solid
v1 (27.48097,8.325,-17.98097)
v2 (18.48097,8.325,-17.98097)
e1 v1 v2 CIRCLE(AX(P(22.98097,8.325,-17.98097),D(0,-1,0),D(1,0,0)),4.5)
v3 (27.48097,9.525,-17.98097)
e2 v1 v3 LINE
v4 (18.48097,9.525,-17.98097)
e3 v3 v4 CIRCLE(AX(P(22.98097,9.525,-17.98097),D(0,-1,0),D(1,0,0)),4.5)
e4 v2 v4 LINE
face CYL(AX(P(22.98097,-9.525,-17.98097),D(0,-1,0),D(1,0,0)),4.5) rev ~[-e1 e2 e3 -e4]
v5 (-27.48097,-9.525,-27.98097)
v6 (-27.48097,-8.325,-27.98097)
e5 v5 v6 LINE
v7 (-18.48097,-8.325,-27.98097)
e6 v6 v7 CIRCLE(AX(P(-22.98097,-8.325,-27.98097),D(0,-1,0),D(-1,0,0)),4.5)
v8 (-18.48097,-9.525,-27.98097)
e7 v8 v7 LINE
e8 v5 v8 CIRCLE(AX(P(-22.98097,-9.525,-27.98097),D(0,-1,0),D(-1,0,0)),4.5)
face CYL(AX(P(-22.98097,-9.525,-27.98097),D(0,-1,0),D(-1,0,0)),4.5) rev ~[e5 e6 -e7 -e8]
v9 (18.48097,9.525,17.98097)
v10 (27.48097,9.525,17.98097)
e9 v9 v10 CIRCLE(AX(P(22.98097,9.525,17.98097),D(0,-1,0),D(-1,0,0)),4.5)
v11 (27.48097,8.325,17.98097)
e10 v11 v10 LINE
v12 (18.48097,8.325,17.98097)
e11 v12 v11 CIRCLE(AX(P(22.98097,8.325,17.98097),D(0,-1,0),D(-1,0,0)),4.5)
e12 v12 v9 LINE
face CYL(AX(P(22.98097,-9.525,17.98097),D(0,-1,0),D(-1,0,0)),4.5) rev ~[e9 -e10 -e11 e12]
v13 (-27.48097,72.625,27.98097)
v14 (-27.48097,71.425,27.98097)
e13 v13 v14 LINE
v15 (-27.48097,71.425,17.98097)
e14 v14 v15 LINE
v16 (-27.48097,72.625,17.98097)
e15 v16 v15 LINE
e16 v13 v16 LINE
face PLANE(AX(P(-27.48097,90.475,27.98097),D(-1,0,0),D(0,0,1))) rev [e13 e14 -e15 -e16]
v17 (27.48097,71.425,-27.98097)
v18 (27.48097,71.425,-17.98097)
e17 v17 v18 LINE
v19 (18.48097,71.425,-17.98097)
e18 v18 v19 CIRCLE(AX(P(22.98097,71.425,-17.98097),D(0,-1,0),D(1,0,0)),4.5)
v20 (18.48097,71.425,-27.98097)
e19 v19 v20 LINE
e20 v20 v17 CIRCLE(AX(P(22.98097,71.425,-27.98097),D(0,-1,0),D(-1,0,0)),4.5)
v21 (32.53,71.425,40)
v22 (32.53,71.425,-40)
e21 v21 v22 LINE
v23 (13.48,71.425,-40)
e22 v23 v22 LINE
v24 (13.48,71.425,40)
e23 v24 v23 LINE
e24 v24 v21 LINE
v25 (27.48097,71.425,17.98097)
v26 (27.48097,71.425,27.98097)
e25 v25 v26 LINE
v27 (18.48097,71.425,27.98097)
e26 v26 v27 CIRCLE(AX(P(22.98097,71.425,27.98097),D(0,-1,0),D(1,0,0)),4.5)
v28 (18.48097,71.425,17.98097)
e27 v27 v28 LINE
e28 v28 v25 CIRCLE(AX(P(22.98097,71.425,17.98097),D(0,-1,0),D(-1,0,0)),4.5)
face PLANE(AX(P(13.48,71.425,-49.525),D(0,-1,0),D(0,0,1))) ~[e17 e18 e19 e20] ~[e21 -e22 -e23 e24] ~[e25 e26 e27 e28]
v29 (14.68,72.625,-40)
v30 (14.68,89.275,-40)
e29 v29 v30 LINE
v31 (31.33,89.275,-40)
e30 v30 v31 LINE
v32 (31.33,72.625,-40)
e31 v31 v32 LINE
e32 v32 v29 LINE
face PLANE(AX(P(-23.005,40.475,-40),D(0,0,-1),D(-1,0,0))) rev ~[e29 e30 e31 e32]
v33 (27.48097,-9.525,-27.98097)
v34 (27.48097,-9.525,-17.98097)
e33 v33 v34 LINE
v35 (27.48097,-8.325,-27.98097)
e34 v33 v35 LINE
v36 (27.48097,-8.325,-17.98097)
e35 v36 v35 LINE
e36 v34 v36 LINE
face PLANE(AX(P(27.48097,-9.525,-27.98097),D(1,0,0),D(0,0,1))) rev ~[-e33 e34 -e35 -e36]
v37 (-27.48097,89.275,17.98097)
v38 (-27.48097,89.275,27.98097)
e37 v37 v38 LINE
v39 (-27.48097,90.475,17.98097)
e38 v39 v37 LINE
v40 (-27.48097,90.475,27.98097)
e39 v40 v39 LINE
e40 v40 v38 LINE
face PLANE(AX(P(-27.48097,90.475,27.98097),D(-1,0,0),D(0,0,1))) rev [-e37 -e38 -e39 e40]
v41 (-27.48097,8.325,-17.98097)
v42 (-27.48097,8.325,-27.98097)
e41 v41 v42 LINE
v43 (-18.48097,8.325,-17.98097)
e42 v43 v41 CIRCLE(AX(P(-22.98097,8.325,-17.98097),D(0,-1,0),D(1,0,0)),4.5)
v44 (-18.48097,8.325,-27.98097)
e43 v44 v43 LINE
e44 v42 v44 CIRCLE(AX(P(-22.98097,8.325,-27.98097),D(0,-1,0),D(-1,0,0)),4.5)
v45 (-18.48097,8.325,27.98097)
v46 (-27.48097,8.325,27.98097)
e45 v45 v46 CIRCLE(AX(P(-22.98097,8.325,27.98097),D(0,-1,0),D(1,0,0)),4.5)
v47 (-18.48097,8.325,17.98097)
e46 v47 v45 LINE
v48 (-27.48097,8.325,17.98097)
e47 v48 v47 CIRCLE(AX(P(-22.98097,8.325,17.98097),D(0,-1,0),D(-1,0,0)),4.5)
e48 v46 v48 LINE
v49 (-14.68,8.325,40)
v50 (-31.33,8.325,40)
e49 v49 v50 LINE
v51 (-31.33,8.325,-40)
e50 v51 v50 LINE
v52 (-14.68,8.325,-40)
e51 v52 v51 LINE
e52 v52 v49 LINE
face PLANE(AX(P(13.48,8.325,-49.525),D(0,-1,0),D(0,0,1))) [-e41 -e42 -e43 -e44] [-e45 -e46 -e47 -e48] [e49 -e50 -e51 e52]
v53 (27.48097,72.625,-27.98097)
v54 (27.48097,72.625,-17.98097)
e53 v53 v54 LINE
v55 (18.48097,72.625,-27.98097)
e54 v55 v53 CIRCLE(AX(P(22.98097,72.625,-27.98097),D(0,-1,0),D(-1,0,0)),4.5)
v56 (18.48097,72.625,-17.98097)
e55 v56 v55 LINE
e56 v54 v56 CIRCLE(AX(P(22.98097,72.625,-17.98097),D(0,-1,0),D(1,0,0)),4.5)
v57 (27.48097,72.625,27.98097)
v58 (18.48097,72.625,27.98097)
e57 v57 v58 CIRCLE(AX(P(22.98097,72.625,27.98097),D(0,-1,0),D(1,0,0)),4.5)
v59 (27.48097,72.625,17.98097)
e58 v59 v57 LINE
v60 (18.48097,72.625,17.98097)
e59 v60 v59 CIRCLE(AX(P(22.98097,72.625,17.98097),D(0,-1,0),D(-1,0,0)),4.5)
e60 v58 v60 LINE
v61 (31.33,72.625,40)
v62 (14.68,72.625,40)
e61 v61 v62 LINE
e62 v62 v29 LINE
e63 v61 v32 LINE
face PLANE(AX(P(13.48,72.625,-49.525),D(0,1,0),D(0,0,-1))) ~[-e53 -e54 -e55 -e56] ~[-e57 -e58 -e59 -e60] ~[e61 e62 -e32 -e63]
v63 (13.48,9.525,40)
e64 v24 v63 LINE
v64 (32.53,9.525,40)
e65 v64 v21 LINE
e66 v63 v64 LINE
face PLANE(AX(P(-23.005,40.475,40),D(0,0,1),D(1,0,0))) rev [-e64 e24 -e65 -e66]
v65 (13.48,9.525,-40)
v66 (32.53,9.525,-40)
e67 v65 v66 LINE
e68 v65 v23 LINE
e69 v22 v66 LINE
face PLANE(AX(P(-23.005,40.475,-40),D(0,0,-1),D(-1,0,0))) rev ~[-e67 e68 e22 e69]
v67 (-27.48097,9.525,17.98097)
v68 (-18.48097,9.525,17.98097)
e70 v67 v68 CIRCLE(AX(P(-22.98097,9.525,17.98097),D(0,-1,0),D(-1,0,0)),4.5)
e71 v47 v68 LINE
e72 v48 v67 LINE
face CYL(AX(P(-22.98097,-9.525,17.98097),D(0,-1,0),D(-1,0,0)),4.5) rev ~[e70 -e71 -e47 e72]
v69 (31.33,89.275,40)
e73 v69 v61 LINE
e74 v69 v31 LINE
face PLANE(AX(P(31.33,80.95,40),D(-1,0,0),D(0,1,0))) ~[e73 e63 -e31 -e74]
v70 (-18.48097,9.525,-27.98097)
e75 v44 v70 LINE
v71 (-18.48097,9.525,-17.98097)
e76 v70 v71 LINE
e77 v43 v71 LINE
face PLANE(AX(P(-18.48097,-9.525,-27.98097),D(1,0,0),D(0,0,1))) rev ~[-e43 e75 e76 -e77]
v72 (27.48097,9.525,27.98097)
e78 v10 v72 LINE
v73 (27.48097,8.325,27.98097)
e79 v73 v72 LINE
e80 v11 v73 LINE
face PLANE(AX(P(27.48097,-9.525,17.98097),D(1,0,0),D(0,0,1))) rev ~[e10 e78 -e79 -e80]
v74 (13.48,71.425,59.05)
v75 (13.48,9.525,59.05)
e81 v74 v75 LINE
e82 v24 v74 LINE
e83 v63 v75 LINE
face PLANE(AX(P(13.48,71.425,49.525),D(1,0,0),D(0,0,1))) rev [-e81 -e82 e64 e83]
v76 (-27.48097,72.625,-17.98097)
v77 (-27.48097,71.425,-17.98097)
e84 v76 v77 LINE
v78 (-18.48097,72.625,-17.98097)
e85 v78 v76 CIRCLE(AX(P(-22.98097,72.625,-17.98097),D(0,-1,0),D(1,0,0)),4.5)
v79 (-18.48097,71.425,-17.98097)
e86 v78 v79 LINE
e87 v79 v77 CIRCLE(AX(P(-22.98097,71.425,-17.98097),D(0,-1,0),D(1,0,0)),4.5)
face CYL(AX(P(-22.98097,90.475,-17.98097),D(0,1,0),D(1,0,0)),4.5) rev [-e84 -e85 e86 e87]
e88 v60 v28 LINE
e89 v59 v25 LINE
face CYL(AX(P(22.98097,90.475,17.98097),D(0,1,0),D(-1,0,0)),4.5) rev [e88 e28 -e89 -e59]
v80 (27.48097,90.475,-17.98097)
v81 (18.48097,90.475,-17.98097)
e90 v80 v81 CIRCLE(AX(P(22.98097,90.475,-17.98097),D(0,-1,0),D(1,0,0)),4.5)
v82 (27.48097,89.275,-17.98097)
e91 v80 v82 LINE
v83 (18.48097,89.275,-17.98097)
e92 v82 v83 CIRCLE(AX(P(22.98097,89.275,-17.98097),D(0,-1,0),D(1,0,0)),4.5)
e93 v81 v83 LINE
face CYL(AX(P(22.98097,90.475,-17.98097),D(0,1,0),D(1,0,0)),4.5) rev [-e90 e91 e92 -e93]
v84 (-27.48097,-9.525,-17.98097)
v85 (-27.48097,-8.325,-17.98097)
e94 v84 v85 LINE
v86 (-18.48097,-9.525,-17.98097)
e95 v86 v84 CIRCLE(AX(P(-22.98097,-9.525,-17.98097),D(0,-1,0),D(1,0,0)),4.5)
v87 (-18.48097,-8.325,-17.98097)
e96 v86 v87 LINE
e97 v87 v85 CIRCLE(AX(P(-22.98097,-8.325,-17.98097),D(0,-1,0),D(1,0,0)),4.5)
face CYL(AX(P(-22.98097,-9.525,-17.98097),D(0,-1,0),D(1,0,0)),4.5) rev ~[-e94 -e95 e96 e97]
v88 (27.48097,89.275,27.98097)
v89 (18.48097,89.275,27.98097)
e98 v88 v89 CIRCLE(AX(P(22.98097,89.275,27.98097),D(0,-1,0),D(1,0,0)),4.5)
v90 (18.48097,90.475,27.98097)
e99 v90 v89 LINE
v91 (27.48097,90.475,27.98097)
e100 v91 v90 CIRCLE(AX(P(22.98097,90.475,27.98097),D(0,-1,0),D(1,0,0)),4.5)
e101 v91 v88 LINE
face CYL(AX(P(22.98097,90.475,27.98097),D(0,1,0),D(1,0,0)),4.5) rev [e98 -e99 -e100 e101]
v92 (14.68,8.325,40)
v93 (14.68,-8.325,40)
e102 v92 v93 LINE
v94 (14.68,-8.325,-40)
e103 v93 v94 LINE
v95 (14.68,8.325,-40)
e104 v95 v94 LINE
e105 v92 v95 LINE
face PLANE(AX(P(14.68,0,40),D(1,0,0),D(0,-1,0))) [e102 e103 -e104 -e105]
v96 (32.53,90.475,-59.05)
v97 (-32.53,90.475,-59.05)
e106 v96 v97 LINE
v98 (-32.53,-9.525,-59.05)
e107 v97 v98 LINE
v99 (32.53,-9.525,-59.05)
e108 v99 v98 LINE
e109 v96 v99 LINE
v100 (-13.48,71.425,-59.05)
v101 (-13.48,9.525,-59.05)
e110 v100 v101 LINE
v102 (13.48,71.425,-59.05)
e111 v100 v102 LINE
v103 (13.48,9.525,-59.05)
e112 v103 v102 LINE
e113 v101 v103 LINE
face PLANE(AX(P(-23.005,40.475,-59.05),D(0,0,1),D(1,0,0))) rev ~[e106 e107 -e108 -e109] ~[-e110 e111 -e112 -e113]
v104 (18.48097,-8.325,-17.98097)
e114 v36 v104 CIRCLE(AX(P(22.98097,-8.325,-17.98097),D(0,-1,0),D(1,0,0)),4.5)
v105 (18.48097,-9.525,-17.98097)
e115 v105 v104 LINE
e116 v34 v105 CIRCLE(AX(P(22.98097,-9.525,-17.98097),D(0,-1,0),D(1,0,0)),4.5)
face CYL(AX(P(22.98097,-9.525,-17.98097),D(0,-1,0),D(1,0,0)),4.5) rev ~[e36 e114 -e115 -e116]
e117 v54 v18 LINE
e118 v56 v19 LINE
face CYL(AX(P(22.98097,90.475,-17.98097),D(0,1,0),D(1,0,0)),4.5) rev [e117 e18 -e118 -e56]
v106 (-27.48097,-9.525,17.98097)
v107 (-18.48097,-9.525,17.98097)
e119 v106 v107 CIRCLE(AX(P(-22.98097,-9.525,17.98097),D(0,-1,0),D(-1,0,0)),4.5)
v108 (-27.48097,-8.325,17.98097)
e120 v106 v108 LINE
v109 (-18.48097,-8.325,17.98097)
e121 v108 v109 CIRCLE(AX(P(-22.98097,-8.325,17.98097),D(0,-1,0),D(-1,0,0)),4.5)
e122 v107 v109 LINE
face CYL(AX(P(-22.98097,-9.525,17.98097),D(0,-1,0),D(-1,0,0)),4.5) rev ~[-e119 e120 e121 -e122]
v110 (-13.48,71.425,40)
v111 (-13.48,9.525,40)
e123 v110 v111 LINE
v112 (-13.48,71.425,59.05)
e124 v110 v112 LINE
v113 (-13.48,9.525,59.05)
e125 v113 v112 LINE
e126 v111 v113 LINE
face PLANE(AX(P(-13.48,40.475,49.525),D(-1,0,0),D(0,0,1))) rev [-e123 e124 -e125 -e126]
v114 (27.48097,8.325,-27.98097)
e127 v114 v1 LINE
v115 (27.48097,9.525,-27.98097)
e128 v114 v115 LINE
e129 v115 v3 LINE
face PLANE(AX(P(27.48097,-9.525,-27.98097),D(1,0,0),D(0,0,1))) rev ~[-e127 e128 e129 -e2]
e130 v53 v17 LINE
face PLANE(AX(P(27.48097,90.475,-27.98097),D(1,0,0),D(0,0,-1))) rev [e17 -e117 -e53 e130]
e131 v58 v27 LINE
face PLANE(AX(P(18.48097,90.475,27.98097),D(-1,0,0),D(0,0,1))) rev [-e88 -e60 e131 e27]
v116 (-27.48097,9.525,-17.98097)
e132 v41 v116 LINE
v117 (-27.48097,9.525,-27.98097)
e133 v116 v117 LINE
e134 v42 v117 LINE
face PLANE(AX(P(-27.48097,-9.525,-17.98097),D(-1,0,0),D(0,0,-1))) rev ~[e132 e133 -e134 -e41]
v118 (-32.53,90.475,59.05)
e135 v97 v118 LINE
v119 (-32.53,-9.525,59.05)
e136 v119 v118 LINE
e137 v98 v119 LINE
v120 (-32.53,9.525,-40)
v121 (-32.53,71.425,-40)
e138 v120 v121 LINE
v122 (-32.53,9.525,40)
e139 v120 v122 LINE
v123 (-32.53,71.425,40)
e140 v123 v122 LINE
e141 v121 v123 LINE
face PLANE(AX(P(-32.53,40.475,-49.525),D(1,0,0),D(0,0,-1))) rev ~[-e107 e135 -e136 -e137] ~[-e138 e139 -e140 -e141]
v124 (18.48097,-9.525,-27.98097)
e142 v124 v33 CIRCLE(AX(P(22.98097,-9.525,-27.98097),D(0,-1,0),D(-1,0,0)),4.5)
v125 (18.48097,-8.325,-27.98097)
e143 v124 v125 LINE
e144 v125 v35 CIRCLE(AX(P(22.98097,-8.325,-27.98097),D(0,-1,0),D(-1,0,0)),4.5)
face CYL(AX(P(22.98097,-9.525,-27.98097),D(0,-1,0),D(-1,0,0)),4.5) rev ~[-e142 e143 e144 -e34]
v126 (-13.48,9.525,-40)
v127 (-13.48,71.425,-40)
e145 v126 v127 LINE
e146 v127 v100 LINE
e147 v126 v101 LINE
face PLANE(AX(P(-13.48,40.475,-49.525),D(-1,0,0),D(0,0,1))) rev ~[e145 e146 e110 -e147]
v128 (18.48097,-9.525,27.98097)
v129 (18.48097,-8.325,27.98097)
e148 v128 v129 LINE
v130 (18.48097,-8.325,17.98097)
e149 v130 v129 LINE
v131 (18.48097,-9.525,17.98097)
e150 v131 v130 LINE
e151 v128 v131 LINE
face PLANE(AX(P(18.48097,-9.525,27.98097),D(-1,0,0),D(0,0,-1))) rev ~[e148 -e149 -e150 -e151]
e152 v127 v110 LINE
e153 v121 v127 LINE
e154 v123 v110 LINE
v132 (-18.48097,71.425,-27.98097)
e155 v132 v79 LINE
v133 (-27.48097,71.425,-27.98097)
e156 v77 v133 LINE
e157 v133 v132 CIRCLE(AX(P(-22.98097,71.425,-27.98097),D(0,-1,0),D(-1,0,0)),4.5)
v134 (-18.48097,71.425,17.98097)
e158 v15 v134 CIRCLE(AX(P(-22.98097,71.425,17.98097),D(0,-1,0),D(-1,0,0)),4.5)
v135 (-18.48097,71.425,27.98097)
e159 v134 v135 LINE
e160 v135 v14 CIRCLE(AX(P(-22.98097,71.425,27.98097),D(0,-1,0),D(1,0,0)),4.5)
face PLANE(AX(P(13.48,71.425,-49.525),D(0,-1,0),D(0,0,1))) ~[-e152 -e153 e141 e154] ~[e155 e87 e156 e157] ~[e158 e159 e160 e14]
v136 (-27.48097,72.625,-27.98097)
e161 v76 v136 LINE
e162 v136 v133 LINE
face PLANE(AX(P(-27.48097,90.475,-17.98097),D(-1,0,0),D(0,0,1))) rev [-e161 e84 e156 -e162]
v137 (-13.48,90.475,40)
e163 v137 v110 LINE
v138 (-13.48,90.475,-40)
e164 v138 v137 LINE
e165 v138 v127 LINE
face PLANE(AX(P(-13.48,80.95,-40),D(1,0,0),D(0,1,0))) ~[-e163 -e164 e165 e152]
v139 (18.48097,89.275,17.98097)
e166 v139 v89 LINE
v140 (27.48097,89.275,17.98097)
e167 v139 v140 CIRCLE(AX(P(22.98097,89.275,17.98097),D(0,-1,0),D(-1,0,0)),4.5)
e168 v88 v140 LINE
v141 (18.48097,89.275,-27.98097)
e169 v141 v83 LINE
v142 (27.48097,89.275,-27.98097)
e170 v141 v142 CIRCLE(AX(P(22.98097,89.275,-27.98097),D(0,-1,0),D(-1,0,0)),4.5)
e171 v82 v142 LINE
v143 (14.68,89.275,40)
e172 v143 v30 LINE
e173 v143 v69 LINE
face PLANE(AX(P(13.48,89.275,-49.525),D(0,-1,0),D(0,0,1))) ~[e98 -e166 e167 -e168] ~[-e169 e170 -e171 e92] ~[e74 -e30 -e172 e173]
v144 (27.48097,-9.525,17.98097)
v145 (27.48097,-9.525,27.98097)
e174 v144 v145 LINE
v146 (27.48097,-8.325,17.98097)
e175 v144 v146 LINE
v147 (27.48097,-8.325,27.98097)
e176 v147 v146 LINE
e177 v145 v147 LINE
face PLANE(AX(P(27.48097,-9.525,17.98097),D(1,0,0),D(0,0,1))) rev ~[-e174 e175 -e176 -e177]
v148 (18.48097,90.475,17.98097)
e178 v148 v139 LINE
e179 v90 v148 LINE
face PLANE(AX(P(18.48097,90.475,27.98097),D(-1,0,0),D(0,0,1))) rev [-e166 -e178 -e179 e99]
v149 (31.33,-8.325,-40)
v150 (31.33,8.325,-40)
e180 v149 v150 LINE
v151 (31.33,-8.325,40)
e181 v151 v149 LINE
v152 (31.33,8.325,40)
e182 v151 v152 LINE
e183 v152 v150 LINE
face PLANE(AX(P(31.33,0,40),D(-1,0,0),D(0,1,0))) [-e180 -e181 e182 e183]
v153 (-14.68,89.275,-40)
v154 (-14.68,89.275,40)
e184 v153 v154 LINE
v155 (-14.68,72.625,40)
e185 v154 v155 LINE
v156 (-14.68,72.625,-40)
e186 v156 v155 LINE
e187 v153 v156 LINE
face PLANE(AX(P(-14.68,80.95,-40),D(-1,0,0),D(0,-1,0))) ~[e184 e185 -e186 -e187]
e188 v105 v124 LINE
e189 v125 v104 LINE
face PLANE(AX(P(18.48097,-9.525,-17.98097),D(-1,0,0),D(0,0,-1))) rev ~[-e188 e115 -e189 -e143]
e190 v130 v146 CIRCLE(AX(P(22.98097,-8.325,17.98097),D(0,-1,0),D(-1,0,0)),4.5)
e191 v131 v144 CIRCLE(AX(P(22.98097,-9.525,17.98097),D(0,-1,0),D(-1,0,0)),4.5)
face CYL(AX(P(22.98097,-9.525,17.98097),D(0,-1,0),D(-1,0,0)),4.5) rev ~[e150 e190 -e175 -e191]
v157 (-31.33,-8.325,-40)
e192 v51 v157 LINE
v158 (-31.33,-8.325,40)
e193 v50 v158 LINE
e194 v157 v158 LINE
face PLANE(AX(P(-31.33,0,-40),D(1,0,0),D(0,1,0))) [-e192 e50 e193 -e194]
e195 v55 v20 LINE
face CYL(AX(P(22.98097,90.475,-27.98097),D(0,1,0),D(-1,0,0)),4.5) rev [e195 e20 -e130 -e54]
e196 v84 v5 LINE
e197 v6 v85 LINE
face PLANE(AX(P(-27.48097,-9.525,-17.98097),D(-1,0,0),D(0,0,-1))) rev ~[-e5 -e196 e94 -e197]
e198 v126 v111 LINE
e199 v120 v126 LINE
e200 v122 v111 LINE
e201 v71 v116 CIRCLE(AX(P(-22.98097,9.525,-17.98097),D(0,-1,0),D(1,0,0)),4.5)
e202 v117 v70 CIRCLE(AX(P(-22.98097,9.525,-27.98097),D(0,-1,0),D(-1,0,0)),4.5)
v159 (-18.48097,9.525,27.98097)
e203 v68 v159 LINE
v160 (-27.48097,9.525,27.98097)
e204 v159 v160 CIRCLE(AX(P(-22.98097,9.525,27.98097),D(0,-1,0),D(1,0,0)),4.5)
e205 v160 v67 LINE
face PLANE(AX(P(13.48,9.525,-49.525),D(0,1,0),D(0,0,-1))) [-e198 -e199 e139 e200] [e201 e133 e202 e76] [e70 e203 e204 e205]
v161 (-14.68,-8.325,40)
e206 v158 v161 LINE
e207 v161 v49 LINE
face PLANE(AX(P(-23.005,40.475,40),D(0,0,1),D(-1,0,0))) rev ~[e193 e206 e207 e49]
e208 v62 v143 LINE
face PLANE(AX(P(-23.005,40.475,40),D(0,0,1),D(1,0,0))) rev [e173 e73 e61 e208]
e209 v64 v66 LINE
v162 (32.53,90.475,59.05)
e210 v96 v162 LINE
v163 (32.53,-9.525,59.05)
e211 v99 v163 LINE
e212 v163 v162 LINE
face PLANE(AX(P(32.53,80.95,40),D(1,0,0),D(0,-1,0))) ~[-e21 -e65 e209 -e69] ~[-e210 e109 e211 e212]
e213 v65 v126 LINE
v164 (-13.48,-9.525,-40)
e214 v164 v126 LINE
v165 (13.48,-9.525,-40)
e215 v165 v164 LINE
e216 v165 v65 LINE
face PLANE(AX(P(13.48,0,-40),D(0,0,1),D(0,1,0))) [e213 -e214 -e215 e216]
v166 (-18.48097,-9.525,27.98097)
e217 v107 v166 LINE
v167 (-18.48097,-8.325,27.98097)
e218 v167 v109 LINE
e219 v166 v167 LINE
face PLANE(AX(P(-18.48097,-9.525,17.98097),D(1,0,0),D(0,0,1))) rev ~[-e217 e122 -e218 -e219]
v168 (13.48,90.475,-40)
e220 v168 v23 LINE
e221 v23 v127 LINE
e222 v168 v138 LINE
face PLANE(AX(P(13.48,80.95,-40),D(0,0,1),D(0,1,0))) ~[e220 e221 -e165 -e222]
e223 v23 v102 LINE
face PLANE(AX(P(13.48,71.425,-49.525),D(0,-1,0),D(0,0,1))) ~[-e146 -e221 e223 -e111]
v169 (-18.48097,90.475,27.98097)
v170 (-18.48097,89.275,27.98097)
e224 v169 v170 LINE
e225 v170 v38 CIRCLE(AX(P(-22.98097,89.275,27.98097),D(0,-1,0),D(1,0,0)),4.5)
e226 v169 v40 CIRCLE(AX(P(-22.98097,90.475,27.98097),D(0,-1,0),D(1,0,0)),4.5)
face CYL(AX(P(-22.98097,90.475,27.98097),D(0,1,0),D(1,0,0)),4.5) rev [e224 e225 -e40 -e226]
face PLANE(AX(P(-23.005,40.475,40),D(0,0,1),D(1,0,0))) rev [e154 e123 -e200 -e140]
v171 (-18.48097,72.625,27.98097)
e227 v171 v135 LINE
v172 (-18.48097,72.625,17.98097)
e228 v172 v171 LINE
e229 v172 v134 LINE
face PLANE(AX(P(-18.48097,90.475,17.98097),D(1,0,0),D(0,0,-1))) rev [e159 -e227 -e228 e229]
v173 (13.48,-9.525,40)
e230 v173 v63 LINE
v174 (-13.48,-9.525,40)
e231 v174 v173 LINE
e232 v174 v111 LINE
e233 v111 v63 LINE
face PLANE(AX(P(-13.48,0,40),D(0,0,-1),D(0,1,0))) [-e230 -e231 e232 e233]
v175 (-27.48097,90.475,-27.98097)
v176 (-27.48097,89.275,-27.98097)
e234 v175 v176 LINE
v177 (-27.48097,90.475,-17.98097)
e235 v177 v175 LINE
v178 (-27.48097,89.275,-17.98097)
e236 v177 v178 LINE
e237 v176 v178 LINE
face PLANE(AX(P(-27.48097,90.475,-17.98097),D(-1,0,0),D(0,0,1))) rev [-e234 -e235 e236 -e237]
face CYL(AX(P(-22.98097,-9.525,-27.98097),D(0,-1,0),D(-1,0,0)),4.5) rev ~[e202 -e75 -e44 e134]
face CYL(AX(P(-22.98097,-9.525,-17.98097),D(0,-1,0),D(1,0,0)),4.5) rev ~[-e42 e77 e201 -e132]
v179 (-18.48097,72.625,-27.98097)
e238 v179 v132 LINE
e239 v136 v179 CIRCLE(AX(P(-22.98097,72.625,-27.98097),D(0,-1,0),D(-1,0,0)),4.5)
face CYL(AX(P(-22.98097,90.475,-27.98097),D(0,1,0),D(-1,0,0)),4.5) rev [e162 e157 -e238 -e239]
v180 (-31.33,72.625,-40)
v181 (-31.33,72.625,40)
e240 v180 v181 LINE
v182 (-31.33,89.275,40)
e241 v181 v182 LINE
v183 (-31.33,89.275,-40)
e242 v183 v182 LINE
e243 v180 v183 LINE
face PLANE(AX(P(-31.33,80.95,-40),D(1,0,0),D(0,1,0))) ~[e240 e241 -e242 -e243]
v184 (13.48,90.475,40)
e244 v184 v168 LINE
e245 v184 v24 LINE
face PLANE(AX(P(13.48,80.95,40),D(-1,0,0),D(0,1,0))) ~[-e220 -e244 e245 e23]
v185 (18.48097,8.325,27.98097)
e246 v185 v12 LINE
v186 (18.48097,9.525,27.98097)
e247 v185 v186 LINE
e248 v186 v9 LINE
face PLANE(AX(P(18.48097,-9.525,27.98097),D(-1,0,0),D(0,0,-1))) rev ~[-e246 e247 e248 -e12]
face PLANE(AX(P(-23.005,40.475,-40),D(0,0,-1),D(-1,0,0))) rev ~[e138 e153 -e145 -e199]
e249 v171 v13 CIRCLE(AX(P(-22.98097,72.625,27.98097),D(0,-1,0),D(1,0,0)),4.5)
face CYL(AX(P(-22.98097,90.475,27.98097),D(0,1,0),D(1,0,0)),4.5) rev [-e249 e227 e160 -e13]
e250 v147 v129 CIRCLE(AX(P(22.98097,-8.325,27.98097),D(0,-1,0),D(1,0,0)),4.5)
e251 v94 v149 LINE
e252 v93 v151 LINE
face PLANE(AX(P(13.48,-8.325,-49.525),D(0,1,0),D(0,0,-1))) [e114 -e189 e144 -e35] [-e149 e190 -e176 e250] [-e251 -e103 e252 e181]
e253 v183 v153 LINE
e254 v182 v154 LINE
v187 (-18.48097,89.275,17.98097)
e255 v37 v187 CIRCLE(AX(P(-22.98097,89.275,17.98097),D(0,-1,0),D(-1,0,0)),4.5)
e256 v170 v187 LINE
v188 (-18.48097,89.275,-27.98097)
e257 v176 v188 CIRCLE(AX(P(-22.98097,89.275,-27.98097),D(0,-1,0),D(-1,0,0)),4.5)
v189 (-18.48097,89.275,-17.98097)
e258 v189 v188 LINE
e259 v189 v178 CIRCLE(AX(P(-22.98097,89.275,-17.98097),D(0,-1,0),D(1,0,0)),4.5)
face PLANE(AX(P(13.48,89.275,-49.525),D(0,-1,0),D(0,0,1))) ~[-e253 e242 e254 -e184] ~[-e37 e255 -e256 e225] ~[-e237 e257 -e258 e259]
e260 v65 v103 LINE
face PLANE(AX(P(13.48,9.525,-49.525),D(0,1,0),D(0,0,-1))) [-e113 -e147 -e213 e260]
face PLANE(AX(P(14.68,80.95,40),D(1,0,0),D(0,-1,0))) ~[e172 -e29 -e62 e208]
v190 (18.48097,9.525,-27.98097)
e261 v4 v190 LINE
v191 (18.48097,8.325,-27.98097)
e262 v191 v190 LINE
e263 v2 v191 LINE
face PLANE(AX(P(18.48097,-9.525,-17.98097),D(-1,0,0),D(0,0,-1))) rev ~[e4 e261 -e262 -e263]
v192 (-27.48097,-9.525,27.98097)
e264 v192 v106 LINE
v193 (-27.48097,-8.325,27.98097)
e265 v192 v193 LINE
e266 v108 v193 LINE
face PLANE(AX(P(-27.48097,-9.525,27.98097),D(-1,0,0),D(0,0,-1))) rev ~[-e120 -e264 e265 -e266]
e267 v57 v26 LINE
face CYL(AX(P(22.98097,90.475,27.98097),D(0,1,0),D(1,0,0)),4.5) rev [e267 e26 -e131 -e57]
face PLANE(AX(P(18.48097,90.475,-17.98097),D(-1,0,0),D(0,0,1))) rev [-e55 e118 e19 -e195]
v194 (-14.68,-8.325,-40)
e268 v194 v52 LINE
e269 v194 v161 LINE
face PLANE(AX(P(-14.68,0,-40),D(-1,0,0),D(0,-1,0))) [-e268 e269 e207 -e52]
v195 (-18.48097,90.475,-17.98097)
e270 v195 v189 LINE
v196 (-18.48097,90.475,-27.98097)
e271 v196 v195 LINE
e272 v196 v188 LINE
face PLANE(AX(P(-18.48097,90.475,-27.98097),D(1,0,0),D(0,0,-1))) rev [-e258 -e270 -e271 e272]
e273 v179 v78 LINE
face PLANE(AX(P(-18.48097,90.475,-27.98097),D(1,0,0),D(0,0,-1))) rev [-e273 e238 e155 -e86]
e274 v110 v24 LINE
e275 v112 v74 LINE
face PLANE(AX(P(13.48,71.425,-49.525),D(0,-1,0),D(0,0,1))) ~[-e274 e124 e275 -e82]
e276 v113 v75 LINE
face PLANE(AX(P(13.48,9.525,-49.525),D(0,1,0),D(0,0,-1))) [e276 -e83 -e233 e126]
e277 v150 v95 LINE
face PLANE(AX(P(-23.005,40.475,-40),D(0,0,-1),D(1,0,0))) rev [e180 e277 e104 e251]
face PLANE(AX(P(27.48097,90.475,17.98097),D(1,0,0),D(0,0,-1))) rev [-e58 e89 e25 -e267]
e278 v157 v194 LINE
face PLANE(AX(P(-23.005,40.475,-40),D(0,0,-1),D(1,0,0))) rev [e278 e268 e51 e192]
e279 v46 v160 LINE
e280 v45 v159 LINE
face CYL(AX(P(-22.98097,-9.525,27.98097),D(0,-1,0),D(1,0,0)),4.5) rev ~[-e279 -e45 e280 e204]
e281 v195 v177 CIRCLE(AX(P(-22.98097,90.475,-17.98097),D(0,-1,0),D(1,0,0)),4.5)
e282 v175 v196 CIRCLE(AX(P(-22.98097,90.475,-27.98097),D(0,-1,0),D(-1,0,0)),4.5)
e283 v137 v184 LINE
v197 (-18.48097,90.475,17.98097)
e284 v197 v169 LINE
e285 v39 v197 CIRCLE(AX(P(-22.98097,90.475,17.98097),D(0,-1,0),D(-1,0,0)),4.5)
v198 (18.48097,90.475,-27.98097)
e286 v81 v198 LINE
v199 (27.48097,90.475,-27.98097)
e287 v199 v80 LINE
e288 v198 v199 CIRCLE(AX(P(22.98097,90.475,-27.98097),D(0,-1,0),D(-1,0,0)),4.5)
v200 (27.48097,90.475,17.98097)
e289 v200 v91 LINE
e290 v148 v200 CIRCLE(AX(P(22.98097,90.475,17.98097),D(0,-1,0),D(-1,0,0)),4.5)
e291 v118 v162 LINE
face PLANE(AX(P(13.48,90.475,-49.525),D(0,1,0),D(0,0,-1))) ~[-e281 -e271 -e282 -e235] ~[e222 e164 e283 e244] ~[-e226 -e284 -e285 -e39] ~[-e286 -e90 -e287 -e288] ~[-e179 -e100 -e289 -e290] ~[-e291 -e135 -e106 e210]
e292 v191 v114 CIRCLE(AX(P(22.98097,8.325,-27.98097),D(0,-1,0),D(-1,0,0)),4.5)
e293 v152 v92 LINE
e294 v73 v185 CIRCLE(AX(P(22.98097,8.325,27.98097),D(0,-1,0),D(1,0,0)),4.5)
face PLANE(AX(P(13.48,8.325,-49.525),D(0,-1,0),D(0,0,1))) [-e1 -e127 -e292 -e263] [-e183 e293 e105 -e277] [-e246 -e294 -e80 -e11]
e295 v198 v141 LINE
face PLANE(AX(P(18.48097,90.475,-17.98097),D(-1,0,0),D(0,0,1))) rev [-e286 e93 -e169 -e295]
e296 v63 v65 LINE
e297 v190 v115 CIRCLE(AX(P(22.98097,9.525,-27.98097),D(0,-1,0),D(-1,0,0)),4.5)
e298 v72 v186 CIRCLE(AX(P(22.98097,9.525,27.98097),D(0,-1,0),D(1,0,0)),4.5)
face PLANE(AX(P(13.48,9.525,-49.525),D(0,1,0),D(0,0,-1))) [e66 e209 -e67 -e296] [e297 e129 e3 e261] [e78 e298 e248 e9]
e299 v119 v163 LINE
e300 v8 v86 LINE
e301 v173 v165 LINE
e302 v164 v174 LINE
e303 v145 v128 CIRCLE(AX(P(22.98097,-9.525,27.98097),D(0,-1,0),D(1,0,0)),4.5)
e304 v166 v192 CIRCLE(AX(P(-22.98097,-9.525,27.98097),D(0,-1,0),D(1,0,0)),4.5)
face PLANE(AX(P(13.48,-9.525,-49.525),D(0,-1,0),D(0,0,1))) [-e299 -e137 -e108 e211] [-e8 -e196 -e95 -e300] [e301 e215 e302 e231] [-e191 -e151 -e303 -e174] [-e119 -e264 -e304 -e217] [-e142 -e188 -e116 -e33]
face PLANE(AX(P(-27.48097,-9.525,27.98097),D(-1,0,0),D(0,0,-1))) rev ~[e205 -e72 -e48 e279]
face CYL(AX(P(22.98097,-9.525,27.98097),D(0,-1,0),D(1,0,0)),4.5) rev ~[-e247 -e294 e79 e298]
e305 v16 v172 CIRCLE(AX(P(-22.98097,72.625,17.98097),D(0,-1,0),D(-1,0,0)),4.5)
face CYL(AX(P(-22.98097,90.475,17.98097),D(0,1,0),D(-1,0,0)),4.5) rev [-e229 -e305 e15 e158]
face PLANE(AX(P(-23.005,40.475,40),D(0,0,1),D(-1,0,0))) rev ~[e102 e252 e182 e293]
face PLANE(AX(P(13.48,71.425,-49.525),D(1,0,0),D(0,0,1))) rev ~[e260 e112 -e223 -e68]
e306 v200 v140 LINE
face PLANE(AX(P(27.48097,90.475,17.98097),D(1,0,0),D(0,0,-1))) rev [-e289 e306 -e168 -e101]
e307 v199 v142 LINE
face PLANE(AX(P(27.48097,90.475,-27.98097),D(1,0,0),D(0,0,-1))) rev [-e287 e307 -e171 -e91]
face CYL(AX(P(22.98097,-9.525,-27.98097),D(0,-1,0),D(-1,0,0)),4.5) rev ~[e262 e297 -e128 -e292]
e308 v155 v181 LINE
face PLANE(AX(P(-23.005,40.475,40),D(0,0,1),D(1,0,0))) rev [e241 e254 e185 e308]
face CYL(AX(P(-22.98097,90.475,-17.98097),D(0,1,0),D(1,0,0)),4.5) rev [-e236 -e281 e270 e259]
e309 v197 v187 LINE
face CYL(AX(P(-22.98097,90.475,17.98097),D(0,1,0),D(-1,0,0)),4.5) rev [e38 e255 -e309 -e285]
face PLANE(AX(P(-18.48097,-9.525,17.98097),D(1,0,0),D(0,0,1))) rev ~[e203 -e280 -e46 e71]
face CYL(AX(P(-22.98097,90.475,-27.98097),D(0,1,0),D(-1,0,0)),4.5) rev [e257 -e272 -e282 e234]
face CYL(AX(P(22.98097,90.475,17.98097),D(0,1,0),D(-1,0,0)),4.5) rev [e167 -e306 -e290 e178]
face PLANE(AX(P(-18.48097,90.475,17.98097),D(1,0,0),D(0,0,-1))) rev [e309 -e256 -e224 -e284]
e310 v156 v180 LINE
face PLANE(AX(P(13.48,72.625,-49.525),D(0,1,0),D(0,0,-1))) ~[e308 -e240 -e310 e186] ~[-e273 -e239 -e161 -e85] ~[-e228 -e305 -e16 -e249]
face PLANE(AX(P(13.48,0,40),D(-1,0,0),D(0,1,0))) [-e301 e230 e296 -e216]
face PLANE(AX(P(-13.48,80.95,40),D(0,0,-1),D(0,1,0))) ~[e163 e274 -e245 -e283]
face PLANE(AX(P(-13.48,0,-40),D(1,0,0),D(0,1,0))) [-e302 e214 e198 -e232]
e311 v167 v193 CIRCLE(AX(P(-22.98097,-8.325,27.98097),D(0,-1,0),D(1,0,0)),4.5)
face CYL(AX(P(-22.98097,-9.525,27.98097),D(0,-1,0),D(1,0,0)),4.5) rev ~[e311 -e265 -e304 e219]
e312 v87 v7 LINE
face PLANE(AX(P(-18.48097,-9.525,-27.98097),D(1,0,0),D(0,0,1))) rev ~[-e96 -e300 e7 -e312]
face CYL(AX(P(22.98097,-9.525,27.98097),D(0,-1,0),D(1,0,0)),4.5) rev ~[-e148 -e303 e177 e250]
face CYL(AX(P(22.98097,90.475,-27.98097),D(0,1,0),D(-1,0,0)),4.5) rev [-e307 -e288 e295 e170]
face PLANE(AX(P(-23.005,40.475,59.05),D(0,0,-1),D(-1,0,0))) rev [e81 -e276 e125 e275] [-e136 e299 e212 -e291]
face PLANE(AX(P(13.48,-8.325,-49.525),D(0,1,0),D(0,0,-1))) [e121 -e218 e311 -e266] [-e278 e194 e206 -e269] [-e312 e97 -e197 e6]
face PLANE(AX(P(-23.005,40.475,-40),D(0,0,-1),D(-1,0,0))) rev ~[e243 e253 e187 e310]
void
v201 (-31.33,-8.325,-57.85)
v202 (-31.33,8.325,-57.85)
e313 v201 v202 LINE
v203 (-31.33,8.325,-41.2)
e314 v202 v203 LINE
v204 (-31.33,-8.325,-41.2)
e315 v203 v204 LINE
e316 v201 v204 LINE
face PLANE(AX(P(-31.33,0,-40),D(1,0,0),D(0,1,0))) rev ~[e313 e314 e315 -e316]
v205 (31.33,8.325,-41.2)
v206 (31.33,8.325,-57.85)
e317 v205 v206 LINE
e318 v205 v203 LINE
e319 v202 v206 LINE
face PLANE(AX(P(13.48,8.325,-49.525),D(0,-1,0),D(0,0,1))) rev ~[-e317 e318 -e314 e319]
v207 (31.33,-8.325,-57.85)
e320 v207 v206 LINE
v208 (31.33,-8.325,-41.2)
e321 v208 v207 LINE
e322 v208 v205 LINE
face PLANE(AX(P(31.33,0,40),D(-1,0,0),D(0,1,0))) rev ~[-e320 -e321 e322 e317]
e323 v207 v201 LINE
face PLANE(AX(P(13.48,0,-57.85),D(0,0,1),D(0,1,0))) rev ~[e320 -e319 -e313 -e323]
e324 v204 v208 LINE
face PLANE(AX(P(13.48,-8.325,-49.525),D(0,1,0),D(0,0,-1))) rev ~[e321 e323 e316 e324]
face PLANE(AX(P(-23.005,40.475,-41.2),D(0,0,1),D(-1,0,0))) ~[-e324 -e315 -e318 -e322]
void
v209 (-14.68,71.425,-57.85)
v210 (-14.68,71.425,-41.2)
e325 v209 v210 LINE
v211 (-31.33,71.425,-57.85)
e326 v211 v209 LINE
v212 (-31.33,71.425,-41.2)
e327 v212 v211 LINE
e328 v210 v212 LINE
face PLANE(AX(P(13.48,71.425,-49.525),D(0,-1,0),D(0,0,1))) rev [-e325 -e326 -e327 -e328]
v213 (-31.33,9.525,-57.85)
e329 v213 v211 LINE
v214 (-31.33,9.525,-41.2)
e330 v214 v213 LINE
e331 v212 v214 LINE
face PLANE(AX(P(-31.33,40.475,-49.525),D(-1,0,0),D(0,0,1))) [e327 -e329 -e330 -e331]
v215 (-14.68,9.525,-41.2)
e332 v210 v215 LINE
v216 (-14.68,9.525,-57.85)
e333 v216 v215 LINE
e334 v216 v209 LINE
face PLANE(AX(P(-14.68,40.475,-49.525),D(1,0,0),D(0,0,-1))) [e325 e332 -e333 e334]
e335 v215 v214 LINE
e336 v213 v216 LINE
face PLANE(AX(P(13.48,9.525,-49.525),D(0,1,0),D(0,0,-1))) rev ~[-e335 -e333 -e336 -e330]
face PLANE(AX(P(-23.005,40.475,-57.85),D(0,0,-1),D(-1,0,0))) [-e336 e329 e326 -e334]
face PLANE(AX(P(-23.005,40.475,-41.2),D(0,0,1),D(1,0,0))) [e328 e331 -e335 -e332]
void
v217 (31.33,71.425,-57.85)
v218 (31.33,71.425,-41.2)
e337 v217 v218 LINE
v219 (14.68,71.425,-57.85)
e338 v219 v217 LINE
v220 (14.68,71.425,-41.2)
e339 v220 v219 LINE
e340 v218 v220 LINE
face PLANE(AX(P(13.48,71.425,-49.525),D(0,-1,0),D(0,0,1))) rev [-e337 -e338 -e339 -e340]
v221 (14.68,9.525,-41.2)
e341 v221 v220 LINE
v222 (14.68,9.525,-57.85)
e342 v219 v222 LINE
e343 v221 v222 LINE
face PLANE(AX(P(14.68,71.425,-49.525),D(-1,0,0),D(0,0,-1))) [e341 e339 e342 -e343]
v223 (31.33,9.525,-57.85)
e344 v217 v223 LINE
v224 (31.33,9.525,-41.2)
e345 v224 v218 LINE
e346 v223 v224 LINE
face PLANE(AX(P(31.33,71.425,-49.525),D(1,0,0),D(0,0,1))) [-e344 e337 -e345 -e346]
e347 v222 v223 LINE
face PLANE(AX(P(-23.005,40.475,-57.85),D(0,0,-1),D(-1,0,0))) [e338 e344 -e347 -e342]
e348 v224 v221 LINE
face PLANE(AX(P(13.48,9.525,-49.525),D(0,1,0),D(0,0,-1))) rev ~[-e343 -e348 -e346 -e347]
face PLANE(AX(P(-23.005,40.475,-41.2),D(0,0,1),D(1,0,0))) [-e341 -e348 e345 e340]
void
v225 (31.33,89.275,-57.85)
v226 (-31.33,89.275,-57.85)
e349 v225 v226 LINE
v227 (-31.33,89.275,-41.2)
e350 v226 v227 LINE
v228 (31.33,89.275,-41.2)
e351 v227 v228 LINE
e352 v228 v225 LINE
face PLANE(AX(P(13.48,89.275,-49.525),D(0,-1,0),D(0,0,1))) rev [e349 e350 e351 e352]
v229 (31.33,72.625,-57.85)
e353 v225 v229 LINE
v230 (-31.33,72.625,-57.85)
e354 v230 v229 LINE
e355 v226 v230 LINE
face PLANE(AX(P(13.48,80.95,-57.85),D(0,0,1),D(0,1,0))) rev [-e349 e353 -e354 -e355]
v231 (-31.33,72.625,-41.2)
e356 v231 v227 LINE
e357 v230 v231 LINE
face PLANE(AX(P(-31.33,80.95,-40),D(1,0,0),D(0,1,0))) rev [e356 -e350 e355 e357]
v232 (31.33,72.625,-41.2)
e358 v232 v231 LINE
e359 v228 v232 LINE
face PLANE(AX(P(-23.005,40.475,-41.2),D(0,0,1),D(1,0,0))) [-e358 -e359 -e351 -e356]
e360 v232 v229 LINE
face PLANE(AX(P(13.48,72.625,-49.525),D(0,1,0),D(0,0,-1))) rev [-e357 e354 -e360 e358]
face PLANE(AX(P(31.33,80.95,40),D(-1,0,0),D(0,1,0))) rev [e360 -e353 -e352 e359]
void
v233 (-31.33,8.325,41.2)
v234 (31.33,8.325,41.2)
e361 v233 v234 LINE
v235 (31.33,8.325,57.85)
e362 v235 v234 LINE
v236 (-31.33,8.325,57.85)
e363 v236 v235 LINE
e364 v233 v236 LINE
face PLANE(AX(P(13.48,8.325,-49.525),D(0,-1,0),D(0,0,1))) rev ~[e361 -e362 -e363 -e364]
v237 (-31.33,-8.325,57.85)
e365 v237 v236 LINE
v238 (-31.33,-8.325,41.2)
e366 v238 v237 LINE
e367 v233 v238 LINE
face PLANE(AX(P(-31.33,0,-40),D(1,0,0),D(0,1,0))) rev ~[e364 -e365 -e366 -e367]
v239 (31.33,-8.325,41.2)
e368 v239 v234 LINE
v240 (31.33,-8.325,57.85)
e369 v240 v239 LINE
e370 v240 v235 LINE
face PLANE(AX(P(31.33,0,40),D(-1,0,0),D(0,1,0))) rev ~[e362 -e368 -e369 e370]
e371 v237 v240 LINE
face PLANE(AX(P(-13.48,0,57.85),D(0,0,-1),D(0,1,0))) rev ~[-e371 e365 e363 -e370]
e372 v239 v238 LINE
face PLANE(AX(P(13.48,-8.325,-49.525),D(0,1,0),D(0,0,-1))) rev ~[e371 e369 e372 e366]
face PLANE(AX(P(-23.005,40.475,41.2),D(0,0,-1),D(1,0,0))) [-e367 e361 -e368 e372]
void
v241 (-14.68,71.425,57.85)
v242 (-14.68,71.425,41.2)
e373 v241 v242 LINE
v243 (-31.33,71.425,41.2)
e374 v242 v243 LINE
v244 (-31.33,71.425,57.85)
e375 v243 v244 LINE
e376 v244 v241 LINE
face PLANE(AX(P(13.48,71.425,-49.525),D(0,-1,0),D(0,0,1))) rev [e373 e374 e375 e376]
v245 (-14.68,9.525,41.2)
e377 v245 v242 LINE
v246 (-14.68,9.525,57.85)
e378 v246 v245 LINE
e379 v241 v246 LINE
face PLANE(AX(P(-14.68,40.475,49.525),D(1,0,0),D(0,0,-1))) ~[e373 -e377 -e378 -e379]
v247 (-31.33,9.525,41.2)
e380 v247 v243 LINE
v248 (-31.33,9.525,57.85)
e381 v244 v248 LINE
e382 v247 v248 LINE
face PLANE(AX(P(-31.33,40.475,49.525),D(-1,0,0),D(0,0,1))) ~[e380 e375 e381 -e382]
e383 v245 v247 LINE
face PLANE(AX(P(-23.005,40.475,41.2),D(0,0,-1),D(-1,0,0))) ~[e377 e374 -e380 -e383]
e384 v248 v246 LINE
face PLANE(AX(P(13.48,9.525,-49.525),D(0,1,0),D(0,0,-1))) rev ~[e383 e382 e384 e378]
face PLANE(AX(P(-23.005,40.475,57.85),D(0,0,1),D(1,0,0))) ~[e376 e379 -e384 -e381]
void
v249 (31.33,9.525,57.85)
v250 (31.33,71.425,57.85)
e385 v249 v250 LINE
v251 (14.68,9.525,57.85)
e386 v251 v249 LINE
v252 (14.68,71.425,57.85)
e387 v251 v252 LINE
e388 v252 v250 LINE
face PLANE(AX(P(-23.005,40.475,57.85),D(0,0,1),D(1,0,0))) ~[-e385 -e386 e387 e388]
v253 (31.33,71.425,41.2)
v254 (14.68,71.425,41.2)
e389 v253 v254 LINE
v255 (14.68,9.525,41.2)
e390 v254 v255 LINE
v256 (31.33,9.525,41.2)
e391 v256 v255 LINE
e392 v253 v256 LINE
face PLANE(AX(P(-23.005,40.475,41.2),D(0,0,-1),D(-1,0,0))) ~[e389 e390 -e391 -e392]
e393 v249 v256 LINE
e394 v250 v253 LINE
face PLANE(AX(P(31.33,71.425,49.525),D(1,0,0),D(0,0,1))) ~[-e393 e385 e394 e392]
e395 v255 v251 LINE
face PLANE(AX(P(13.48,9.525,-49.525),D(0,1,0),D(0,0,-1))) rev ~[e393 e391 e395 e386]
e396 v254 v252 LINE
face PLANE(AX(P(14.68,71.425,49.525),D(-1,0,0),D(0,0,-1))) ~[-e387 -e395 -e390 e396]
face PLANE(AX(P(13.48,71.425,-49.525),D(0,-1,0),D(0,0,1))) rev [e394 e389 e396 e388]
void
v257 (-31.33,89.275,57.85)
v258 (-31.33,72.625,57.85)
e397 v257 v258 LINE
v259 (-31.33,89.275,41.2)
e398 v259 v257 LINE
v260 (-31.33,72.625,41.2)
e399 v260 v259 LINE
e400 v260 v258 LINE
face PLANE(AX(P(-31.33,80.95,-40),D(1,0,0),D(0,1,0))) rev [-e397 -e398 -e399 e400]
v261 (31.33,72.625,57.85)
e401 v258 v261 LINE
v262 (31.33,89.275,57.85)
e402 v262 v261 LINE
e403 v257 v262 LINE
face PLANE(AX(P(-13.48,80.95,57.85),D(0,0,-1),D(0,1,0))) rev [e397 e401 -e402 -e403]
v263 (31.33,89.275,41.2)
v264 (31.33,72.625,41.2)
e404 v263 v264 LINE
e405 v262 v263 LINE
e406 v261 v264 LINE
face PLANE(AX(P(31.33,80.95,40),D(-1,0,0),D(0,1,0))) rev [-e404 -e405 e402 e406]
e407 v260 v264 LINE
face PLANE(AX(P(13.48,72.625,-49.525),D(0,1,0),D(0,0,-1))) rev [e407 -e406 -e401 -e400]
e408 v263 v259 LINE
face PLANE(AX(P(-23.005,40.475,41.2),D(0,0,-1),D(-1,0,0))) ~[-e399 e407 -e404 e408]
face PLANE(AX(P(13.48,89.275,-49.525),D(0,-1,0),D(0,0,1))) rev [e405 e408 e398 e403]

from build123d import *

# Parameters (mm, degrees)
SKETCH2_W          = 19.05
SKETCH2_H          = 19.05
SKETCH2_W_2        = 16.65
SKETCH2_H_2        = 16.65
CUT_EXTRUDE1_START = -9.525
SKETCH1_3_W        = 26.96
SKETCH1_3_H        = 80
CUT_EXTRUDE1_DEPTH = 19.05
SKETCH4_W          = 19.05
SKETCH4_H          = 19.05
SKETCH4_W_2        = 16.65
SKETCH4_H_2        = 16.65


with BuildPart() as part:
    # Sweep1: sweep along a path in Sketch1
    with BuildLine(Plane(origin=(0, 0, 0), x_dir=(1, 0, 0), z_dir=(0, 1, 0))) as sweep1_path:
        Line((13.48, 40), (-13.48, 40))
        Line((-13.48, 40), (-13.48, -40))
        Line((-13.48, -40), (13.48, -40))
        Line((13.48, -40), (13.48, 40))
    # Sketch2 → Sweep1 (sweep)
    with BuildSketch(Plane.XY):
        with Locations((-23.005, 0)):
            Rectangle(SKETCH2_W, SKETCH2_H)
        with Locations((-23.005, 0)):
            Rectangle(SKETCH2_W_2, SKETCH2_H_2, mode=Mode.SUBTRACT)
    sweep(path=sweep1_path.line, transition=Transition.RIGHT)

    # Sketch1<3> → Cut-Extrude1 (cut)
    with BuildSketch(Plane(origin=(0, 0, 0), x_dir=(1, 0, 0), z_dir=(0, 1, 0)).offset(CUT_EXTRUDE1_START)):
        Rectangle(SKETCH1_3_W, SKETCH1_3_H)
        with BuildLine():
            Line((-18.480970389, 27.980970389), (-18.480970389, 17.980970389))
            ThreePointArc((-18.480970389, 17.980970389), (-22.980970389, 13.480970389), (-27.480970389, 17.980970389))
            Line((-27.480970389, 17.980970389), (-27.480970389, 27.980970389))
            ThreePointArc((-27.480970389, 27.980970389), (-22.980970389, 32.480970389), (-18.480970389, 27.980970389))
        make_face()
        with BuildLine():
            Line((-18.480970389, -17.980970389), (-18.480970389, -27.980970389))
            ThreePointArc((-18.480970389, -27.980970389), (-22.980970389, -32.480970389), (-27.480970389, -27.980970389))
            Line((-27.480970389, -27.980970389), (-27.480970389, -17.980970389))
            ThreePointArc((-27.480970389, -17.980970389), (-22.980970389, -13.480970389), (-18.480970389, -17.980970389))
        make_face()
        with BuildLine():
            Line((27.480970389, 27.980970389), (27.480970389, 17.980970389))
            ThreePointArc((27.480970389, 17.980970389), (22.980970389, 13.480970389), (18.480970389, 17.980970389))
            Line((18.480970389, 17.980970389), (18.480970389, 27.980970389))
            ThreePointArc((18.480970389, 27.980970389), (22.980970389, 32.480970389), (27.480970389, 27.980970389))
        make_face()
        with BuildLine():
            Line((18.480970389, -27.980970389), (18.480970389, -17.980970389))
            ThreePointArc((18.480970389, -17.980970389), (22.980970389, -13.480970389), (27.480970389, -17.980970389))
            Line((27.480970389, -17.980970389), (27.480970389, -27.980970389))
            ThreePointArc((27.480970389, -27.980970389), (22.980970389, -32.480970389), (18.480970389, -27.980970389))
        make_face()
    extrude(amount=CUT_EXTRUDE1_DEPTH, mode=Mode.SUBTRACT)

    # Sweep2: sweep along a path in Sketch3
    with BuildLine(Plane(origin=(0, 0, 40), x_dir=(-1, 0, 0), z_dir=(0, 0, -1))) as sweep2_path:
        Line((13.48, 40.475), (13.48, 9.525))
        Line((13.48, 9.525), (-13.48, 9.525))
        Line((-13.48, 9.525), (-13.48, 40.475))
    # Sketch4 → Sweep2 (sweep)
    with BuildSketch(Plane(origin=(0, 9.525, 0), x_dir=(1, 0, 0), z_dir=(0, 1, 0))):
        with Locations((-23.005, -49.525)):
            Rectangle(SKETCH4_W, SKETCH4_H)
        with Locations((-23.005, -49.525)):
            Rectangle(SKETCH4_W_2, SKETCH4_H_2, mode=Mode.SUBTRACT)
    sweep2 = sweep(path=sweep2_path.line, transition=Transition.RIGHT)

    # Mirror1: Sweep2 across plane
    add(sweep2.mirror(Plane.XY))

    # Mirror3: part across plane


with BuildPart() as part_1:
    add(part.part)
    add(part.part.mirror(Plane.ZX.offset(40.475)))


solid = part_1.part
